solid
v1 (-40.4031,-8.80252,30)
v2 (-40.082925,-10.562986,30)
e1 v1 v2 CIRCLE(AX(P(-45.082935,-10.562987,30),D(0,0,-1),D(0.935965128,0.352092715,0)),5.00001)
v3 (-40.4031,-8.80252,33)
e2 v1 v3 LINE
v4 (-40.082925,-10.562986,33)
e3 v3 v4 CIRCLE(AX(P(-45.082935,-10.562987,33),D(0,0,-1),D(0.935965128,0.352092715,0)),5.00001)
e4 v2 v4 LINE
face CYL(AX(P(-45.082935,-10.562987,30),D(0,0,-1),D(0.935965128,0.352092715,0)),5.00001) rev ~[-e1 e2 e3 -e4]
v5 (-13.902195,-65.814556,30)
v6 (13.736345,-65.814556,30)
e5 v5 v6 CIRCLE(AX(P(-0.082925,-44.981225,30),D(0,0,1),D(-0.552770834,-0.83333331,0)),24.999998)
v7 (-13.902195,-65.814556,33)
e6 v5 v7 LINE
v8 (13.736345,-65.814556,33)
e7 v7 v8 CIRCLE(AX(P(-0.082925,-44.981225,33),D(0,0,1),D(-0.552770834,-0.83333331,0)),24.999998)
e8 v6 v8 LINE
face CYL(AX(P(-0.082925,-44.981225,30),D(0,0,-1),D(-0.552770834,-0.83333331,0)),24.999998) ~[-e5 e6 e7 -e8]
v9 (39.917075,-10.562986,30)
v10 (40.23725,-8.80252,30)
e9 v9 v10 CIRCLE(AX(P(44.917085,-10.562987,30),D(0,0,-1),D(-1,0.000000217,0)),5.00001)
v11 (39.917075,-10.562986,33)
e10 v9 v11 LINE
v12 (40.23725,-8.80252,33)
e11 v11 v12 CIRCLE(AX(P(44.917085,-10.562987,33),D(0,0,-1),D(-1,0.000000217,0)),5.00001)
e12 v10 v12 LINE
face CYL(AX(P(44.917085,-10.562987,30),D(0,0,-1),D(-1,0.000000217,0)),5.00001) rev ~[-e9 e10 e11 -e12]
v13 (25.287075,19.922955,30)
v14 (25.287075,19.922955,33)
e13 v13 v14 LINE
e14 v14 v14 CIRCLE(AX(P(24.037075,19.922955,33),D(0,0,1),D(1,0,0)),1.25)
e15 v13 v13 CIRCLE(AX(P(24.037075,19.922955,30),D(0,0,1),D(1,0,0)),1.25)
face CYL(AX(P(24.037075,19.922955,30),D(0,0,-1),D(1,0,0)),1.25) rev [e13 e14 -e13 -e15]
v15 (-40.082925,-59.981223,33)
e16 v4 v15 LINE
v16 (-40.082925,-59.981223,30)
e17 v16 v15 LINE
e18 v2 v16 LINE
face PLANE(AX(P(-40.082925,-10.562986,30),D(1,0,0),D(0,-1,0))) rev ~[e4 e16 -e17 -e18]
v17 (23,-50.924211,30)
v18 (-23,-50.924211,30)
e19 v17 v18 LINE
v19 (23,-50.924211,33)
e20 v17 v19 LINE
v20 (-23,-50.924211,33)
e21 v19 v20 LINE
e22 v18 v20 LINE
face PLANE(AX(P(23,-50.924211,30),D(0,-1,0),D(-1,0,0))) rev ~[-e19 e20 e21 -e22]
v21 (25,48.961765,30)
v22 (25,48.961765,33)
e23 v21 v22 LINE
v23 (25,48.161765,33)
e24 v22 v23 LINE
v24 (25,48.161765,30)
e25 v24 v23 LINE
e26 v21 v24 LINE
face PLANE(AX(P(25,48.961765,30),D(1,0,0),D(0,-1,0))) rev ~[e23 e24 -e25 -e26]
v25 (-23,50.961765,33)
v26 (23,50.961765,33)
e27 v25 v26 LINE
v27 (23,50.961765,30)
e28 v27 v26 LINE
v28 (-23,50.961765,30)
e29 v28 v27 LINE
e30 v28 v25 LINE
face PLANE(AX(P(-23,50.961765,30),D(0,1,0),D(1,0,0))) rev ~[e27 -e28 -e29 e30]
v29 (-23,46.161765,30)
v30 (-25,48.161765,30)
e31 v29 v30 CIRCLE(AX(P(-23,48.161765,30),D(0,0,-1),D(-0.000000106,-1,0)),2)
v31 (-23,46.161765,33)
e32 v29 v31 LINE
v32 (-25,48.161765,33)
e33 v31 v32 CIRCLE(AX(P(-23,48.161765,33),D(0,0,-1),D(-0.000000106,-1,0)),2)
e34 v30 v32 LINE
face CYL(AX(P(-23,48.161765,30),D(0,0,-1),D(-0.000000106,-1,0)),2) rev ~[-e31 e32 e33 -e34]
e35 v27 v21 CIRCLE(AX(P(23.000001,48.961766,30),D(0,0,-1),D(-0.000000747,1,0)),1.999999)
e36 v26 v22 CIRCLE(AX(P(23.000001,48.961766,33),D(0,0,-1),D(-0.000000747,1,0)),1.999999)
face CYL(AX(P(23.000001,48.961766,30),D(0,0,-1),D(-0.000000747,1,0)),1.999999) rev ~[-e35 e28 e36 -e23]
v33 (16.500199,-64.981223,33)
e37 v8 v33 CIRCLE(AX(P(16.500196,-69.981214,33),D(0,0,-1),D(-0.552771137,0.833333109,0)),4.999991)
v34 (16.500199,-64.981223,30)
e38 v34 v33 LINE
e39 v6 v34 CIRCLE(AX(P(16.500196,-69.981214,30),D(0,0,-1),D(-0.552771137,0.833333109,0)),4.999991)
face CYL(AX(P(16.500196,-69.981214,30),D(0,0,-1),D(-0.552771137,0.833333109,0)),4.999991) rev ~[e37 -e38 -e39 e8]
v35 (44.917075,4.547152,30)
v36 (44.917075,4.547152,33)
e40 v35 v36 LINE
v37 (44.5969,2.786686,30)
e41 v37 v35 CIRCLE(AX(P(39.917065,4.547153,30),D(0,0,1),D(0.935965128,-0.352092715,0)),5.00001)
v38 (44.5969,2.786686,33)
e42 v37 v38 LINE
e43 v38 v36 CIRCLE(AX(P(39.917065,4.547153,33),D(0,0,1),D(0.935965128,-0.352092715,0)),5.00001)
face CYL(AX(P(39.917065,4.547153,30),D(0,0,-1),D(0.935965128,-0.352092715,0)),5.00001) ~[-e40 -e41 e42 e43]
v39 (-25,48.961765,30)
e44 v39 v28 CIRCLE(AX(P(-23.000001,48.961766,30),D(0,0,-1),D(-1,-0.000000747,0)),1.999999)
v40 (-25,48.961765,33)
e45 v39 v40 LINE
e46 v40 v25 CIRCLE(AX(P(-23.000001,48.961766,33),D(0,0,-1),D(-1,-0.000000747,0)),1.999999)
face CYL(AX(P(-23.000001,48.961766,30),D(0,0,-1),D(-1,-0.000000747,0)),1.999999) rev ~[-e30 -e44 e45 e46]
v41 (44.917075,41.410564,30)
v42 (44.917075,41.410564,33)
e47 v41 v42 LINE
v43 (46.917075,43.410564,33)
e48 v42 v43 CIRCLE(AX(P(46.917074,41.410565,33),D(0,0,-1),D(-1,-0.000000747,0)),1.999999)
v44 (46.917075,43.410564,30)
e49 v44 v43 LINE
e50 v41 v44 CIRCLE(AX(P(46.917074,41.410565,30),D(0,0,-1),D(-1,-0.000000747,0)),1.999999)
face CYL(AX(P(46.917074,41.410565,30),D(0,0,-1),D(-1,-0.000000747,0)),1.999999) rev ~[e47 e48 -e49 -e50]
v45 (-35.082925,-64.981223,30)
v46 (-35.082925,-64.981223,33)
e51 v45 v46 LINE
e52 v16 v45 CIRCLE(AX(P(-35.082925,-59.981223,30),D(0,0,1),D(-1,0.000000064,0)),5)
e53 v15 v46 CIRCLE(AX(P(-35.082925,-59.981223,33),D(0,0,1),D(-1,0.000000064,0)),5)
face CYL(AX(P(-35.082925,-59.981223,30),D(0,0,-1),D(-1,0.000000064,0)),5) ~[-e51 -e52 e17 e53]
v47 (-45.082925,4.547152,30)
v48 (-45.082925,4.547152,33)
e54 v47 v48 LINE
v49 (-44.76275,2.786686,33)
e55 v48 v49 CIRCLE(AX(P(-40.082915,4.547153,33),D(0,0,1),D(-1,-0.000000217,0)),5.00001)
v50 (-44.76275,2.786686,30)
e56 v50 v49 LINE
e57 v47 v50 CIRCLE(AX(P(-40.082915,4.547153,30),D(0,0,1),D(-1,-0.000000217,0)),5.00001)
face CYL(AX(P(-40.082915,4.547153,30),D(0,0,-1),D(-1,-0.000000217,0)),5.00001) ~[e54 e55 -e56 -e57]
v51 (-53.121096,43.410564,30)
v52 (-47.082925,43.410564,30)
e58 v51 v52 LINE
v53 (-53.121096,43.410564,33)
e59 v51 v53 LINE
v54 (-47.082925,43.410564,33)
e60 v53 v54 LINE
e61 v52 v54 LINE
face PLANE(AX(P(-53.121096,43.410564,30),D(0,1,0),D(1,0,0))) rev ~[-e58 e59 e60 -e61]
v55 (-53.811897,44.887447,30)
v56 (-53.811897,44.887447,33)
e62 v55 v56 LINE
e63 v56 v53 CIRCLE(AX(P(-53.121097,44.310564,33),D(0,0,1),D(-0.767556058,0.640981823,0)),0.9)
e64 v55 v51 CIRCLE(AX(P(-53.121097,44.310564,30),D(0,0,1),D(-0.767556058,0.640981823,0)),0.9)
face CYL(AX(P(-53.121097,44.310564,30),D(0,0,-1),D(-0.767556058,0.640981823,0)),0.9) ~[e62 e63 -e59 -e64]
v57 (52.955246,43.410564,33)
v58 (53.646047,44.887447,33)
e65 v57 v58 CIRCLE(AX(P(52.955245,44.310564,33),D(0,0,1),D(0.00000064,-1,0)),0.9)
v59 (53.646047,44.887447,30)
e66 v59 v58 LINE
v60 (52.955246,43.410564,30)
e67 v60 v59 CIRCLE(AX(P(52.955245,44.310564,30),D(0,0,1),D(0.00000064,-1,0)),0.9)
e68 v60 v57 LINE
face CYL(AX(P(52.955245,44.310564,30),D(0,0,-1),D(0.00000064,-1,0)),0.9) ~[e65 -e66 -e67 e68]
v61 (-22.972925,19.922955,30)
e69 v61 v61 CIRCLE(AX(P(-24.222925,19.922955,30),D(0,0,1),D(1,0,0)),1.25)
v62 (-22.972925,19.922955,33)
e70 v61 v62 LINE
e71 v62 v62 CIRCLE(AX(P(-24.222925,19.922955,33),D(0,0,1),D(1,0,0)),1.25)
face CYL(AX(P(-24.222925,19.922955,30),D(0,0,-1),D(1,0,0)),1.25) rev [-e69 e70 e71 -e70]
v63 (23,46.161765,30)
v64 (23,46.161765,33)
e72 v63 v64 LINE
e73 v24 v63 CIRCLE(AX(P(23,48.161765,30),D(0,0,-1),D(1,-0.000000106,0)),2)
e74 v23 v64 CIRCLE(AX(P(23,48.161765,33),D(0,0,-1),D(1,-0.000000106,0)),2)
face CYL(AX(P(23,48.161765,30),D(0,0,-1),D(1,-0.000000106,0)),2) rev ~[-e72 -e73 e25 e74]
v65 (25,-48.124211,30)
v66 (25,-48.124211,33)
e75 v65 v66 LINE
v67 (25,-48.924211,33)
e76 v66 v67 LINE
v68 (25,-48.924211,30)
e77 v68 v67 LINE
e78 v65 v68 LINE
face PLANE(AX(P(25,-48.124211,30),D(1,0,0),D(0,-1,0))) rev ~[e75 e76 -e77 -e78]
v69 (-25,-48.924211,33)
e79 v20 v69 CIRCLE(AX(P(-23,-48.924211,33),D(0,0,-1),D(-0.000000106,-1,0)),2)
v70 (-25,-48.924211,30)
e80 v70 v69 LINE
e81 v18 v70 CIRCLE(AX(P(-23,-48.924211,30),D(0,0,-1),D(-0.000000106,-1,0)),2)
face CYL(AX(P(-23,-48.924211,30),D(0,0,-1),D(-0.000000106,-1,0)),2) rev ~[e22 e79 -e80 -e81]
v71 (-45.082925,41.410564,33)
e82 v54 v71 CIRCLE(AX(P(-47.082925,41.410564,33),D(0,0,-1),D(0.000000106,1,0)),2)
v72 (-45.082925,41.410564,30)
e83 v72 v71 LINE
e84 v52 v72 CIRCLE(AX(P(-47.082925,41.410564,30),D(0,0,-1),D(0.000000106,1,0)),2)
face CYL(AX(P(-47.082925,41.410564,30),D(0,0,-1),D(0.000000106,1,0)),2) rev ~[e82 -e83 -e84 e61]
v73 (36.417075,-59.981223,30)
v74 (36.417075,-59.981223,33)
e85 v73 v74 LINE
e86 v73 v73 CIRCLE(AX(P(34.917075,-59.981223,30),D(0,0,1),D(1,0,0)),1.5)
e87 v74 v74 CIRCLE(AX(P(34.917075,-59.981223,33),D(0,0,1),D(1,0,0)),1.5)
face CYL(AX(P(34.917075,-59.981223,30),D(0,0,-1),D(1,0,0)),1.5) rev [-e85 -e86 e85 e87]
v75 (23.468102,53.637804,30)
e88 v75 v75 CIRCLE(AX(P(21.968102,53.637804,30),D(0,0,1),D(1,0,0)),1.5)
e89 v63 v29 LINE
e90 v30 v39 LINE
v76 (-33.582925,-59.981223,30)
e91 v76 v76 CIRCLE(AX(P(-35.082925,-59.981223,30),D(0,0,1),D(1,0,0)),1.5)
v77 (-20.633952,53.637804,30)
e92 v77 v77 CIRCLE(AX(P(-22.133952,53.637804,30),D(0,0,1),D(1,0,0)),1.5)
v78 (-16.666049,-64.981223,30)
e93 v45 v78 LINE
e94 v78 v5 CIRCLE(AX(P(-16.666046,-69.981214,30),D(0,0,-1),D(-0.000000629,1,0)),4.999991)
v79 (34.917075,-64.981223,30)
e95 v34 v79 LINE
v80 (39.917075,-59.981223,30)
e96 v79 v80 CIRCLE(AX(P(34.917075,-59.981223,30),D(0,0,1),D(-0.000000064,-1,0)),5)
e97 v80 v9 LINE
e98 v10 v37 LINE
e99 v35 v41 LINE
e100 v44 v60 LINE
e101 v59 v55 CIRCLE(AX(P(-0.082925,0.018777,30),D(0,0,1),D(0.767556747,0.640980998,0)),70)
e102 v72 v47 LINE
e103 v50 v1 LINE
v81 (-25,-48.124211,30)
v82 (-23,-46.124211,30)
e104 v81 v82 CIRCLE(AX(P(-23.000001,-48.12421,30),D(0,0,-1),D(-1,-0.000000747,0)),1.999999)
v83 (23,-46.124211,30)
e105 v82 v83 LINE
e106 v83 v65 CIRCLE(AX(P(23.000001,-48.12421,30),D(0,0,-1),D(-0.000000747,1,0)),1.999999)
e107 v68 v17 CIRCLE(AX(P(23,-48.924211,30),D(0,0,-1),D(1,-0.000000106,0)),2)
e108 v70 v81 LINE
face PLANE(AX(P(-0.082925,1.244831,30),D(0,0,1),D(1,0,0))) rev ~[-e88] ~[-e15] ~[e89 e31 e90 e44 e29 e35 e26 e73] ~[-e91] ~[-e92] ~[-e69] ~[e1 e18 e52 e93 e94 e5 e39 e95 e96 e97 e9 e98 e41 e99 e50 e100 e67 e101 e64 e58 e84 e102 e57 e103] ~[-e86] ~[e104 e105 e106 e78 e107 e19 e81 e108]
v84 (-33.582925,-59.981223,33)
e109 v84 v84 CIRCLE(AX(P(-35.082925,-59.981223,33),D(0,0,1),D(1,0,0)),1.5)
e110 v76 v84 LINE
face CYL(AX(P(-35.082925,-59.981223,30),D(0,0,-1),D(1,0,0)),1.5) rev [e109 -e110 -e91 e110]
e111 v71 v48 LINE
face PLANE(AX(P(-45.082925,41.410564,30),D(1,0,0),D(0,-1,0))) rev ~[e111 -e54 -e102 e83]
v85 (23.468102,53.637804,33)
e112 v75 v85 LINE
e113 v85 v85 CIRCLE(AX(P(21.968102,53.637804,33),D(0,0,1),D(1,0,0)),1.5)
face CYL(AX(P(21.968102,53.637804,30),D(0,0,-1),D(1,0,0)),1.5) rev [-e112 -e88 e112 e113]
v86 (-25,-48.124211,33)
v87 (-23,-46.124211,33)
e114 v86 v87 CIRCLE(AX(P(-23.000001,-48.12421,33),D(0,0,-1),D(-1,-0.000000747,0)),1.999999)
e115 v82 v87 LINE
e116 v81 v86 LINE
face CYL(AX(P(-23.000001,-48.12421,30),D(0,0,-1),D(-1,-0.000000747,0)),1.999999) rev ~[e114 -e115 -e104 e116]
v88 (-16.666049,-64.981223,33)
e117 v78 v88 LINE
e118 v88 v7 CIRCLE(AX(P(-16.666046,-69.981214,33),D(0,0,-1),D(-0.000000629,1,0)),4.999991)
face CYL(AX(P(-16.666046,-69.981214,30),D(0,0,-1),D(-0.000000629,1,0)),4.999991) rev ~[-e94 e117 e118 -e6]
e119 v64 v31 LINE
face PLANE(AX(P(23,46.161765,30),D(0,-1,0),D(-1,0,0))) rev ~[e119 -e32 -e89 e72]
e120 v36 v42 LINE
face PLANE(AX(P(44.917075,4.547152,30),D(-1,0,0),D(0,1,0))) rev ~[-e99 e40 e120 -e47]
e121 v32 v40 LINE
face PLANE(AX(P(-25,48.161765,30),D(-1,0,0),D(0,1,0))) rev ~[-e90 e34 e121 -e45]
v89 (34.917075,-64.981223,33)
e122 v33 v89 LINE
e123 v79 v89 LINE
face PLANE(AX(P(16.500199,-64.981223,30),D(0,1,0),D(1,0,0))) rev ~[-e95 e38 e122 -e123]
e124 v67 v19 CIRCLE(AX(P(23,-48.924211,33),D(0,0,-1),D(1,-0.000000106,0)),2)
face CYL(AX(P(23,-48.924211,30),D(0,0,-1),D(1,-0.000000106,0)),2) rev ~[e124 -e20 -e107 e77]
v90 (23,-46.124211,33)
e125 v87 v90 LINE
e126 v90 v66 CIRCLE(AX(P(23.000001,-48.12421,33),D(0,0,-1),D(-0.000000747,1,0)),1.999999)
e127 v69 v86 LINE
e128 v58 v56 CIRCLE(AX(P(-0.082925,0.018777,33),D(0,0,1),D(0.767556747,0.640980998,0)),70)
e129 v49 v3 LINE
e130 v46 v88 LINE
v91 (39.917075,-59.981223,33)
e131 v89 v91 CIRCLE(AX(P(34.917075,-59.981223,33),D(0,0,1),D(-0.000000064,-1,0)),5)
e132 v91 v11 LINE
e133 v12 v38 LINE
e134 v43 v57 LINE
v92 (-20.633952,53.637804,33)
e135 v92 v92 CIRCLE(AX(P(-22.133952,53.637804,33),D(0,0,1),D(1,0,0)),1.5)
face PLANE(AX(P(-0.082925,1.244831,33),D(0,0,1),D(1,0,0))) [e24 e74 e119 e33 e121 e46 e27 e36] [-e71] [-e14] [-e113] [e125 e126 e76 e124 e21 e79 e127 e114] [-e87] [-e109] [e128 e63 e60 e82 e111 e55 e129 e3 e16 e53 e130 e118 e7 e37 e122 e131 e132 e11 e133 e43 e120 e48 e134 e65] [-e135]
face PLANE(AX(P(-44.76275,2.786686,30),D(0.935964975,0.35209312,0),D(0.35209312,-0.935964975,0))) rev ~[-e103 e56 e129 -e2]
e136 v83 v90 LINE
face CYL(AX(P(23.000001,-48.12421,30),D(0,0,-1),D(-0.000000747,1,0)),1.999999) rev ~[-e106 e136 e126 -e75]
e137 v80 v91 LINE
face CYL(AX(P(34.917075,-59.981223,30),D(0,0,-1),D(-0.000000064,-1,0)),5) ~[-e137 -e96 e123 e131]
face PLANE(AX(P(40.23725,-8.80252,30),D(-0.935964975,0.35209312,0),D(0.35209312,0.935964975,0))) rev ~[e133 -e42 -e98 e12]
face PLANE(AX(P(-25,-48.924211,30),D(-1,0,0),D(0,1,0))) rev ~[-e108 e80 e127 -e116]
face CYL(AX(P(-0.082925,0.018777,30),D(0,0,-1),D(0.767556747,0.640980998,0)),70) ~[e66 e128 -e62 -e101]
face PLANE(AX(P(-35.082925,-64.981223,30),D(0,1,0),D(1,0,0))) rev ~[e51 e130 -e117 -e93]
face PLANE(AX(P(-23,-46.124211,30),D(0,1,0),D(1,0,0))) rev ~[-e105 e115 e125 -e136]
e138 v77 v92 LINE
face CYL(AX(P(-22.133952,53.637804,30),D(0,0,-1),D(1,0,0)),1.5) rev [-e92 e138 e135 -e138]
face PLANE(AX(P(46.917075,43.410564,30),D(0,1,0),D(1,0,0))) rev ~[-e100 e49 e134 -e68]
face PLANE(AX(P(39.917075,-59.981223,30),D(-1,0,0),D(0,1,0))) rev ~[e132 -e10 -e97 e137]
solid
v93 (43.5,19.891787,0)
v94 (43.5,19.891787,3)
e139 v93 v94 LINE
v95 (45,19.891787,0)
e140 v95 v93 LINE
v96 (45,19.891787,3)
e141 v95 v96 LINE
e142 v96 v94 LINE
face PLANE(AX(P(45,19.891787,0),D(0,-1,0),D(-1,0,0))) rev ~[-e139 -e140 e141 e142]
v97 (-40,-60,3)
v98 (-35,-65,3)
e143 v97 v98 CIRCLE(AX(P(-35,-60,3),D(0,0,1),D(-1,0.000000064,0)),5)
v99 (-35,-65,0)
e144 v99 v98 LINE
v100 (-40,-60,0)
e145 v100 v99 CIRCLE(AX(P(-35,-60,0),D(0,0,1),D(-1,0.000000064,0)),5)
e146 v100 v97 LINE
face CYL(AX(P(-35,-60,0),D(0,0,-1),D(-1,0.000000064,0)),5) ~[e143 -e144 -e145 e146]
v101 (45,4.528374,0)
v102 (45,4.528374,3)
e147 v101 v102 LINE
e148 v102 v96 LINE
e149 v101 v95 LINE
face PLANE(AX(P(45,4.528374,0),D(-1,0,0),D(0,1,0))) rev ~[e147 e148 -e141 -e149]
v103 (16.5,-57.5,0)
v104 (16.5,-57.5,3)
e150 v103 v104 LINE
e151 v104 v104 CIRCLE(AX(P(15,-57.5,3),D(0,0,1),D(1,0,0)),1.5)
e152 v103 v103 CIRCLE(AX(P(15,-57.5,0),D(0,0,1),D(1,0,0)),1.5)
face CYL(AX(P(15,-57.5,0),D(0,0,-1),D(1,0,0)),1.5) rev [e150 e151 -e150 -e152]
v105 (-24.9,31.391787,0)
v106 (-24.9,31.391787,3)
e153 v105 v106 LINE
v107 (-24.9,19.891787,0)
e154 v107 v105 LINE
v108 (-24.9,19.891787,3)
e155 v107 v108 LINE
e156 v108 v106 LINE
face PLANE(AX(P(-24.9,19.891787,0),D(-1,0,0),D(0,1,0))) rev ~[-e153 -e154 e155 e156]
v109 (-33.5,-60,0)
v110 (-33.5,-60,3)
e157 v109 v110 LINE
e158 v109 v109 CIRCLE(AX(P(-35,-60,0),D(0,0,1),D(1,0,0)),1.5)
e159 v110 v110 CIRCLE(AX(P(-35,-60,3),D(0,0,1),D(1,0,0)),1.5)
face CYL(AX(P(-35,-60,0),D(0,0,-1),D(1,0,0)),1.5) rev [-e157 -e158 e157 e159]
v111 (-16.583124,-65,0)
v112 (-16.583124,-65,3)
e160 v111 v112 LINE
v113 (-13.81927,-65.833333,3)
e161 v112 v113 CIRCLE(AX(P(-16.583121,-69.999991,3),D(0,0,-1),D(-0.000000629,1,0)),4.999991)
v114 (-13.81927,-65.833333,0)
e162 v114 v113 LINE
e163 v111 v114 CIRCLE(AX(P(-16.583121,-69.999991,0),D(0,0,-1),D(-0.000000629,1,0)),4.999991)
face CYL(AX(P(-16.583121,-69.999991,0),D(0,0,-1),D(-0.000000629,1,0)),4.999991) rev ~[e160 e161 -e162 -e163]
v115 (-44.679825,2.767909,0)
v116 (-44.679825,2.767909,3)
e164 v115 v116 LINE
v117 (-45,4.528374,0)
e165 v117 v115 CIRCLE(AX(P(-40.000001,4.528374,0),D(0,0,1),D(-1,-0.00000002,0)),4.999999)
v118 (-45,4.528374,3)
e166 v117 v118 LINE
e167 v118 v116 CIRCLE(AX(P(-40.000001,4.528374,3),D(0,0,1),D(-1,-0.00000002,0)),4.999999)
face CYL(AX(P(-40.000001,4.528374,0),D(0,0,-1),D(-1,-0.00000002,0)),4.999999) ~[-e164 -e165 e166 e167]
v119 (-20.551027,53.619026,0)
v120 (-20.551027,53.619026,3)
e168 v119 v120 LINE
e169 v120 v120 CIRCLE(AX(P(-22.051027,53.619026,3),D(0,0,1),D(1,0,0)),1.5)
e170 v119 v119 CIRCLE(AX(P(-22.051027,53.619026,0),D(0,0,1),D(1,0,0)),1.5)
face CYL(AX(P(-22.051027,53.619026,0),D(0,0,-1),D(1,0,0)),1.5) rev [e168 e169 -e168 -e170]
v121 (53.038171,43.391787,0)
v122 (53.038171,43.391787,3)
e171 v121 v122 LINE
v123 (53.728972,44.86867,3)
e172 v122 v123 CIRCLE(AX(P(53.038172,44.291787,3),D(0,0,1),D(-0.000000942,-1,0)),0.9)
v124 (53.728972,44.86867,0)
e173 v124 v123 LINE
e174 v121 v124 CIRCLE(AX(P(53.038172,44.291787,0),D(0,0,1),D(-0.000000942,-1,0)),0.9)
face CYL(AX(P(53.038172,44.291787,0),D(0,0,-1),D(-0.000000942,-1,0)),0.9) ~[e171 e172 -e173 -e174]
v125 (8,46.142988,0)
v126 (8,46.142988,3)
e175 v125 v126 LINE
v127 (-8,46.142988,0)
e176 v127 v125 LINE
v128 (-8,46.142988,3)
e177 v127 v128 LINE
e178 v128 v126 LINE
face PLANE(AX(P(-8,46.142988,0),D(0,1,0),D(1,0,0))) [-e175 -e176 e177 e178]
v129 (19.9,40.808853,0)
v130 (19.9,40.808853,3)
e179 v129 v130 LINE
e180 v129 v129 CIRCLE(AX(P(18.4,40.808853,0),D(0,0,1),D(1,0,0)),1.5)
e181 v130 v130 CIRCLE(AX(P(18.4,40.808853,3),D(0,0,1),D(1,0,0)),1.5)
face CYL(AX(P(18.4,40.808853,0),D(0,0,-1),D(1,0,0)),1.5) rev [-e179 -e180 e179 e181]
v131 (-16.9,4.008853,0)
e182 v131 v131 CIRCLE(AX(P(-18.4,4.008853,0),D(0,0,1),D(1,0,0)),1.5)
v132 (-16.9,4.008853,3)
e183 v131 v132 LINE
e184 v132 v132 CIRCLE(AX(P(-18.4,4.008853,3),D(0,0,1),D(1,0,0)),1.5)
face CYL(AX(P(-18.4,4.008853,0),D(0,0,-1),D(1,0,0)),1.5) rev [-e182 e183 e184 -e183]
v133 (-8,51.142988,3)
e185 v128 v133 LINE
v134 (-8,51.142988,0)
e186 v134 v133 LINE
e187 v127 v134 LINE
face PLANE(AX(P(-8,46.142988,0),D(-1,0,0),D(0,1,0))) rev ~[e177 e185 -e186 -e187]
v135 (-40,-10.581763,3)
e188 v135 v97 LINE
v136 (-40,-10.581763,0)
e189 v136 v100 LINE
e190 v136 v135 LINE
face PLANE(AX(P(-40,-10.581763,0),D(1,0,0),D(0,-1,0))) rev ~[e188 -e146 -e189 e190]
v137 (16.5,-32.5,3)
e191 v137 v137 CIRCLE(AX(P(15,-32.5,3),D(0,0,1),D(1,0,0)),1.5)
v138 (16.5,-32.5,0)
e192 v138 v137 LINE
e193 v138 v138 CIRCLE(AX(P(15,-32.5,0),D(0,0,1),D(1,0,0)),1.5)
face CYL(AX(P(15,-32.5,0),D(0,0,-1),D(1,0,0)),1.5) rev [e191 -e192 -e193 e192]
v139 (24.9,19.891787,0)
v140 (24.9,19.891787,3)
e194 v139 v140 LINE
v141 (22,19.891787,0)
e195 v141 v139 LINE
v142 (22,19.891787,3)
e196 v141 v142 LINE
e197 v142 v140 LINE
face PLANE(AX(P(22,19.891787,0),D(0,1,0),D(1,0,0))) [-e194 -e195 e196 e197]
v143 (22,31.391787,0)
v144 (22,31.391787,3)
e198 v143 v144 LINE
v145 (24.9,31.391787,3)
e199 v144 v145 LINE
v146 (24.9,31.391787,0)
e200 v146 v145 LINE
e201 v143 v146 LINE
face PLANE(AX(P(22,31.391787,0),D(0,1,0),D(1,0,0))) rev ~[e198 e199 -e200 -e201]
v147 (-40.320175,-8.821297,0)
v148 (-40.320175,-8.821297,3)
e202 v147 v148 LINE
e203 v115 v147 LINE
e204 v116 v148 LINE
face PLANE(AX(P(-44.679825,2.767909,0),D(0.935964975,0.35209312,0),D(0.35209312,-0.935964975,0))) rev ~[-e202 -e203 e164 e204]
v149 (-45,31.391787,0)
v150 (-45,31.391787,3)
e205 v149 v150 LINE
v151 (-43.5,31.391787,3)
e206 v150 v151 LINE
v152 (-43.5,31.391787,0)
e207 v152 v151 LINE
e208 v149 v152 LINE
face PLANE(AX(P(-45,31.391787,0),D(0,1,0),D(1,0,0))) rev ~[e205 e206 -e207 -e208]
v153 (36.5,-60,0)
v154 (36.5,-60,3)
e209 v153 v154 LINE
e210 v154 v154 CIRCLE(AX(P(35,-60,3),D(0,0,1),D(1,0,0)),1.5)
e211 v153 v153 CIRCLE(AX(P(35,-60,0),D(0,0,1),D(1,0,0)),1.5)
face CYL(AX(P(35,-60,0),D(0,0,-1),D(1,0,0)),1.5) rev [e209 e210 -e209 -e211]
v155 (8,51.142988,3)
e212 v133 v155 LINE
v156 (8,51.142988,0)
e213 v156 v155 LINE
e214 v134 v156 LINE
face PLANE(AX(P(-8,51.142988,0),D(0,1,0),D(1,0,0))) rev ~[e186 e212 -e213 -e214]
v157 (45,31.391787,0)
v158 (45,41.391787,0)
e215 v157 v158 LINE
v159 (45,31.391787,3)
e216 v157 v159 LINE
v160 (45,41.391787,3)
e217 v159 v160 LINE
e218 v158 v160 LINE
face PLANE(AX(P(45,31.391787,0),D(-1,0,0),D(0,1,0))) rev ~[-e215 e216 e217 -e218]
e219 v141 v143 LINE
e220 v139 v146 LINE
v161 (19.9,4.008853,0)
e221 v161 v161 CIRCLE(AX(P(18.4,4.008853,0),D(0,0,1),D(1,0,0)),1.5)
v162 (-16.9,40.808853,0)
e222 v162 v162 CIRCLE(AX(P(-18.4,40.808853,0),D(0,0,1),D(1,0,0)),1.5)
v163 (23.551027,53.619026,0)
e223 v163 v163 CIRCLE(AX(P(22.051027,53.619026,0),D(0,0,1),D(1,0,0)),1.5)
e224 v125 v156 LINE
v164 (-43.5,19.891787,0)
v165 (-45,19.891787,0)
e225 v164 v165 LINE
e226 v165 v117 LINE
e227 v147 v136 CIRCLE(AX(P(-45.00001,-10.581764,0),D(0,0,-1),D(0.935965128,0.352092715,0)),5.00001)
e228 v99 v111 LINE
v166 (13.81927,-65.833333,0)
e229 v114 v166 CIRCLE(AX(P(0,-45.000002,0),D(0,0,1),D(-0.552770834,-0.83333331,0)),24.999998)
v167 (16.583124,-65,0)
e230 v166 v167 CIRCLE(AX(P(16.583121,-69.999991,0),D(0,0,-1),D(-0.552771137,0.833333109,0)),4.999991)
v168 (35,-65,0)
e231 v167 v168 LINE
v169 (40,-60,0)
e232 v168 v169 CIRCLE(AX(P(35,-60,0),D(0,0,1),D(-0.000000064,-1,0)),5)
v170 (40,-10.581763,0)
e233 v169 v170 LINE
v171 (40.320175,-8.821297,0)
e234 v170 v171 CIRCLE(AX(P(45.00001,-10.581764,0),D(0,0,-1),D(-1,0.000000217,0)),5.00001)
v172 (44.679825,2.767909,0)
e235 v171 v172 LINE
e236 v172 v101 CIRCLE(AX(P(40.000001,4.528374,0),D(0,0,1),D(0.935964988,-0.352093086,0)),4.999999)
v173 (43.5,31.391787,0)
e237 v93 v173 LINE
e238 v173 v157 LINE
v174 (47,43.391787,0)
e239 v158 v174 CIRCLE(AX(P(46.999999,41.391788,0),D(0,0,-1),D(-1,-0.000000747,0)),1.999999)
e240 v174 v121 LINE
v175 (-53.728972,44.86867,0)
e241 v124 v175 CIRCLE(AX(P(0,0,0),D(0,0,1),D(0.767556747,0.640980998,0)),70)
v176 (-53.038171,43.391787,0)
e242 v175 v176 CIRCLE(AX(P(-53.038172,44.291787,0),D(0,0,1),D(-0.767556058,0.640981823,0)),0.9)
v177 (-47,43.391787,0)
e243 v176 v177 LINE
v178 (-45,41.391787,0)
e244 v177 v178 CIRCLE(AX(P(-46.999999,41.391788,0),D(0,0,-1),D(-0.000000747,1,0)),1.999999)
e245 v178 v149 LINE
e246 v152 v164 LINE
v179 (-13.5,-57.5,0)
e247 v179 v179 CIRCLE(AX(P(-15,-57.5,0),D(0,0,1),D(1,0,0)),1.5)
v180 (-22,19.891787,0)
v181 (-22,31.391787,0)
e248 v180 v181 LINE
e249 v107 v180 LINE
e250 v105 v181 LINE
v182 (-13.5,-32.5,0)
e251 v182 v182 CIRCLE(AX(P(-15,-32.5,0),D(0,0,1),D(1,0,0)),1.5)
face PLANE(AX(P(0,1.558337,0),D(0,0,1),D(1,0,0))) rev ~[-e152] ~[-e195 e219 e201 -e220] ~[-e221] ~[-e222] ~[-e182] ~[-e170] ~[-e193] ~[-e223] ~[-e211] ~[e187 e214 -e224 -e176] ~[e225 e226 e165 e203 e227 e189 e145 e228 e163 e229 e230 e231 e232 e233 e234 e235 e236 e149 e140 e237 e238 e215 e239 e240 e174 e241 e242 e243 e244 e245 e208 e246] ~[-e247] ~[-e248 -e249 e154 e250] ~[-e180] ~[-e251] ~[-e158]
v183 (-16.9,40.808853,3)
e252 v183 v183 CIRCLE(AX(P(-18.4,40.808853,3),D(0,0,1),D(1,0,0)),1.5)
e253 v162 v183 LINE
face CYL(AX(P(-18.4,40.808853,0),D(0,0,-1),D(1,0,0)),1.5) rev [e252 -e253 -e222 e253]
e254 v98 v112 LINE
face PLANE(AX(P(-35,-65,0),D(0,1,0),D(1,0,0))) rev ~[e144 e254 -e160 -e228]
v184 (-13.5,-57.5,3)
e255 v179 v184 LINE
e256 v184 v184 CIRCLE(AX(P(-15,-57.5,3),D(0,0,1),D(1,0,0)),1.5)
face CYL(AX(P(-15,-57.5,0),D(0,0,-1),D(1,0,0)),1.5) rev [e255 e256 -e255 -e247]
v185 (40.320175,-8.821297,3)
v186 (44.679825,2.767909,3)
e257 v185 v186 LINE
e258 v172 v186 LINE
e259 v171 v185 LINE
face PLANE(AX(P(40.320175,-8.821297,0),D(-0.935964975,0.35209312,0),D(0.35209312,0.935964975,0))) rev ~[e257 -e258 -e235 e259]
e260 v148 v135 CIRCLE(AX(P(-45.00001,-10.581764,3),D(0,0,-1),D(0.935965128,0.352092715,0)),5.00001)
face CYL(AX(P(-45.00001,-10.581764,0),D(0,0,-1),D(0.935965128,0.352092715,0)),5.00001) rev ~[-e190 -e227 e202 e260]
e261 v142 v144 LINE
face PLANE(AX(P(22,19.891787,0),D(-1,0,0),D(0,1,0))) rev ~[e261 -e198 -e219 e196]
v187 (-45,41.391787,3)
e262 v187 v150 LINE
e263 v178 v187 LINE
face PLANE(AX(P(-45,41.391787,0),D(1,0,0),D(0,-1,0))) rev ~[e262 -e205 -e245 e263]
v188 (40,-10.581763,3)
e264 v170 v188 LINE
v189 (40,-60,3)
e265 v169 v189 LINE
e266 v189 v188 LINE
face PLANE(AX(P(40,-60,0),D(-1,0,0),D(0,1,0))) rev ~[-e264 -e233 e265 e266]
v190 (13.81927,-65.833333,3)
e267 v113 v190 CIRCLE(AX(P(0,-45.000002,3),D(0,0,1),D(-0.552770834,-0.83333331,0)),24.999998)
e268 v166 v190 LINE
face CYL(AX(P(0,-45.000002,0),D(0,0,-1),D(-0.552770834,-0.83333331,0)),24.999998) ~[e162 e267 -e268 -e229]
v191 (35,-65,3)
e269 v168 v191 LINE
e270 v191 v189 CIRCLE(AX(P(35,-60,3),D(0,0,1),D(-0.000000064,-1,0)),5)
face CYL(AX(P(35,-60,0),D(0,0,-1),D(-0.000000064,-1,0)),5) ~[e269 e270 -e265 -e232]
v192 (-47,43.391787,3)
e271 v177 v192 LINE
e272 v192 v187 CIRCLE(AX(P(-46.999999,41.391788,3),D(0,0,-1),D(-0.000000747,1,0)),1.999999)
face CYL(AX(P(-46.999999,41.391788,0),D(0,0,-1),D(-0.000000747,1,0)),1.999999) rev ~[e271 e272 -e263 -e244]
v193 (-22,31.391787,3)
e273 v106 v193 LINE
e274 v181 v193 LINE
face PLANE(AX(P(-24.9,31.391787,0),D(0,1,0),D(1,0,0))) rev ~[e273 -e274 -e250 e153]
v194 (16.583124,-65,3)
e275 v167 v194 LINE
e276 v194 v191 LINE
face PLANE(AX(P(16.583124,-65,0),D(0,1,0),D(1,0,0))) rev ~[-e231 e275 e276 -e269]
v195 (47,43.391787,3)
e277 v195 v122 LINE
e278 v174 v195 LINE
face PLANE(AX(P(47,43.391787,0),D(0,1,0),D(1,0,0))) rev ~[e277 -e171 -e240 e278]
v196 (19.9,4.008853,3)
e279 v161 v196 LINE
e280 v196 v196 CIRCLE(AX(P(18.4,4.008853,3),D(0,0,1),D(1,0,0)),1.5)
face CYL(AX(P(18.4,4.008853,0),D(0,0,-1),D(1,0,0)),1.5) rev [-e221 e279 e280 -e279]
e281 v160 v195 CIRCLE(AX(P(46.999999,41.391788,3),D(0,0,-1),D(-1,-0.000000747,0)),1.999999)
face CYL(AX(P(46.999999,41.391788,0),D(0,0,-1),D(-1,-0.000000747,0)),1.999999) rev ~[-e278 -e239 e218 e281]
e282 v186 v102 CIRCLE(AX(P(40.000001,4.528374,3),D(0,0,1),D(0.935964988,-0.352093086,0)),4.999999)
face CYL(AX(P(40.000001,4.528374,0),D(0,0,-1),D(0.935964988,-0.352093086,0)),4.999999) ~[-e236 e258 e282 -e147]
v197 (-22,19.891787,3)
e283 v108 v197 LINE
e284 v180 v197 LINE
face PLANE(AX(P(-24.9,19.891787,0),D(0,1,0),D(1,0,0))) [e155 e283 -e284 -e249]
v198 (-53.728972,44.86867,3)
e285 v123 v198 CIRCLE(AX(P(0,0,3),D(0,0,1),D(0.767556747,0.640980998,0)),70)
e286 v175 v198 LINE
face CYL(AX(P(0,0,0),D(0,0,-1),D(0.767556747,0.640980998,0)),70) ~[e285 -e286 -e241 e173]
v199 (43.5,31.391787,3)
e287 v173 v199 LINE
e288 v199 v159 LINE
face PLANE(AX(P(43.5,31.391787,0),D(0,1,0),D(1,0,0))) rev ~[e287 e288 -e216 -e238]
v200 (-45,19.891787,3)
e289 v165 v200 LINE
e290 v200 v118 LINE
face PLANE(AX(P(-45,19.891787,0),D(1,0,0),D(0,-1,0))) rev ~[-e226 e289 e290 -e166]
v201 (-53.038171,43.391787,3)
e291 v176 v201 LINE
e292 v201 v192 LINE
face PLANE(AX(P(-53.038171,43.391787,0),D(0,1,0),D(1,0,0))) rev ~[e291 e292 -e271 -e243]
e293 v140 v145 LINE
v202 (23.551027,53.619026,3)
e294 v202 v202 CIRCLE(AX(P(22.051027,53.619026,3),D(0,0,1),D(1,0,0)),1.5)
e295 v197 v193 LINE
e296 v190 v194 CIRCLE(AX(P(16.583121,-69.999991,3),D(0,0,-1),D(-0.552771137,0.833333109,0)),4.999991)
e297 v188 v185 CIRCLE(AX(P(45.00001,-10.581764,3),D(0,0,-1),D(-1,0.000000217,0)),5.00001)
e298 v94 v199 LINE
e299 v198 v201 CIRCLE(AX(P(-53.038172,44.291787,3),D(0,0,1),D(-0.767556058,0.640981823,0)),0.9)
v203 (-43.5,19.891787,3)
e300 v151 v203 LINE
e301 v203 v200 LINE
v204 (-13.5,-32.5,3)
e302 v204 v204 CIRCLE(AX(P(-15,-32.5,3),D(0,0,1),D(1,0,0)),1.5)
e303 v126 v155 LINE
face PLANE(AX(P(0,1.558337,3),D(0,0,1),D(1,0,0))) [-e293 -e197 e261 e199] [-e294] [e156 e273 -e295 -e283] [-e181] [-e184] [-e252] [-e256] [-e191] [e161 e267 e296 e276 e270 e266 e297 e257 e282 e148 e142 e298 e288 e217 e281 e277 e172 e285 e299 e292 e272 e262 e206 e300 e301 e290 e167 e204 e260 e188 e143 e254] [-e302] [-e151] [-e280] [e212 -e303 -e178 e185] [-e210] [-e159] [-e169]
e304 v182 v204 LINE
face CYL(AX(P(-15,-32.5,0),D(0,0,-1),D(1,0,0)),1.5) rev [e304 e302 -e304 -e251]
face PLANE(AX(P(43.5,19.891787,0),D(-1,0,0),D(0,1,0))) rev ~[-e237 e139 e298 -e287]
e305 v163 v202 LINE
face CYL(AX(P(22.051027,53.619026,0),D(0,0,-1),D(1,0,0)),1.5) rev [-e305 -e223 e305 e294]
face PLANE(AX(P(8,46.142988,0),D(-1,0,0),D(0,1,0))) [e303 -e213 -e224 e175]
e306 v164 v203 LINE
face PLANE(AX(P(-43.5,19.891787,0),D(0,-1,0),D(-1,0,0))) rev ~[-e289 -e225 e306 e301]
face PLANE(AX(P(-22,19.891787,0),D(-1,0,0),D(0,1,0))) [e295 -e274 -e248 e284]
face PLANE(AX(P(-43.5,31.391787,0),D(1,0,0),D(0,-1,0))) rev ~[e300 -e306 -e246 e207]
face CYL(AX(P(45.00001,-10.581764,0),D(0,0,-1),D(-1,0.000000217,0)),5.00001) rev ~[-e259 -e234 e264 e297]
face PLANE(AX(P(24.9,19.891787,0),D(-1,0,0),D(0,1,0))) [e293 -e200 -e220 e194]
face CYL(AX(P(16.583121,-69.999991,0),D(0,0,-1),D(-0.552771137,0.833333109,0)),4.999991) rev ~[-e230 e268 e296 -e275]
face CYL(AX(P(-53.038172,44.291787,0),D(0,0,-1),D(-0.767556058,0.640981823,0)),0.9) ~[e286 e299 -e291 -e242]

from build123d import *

# Parameters (mm, degrees)
F0_R     = 1.5
F0_W     = 2.9
F0_H     = 11.5
F0_W_2   = 16
F0_H_2   = 5
F1_DEPTH = 3
F5_R     = 1.5
F5_R_2   = 1.25
F6_DEPTH = 3


with BuildPart() as f1:
    # F0 (on Top) → F1 (new body)
    with BuildSketch(Plane.XY):
        with BuildLine():
            ThreePointArc((53.038171, 43.391787), (53.8534, 43.91047), (53.728972, 44.86867))
            ThreePointArc((53.728972, 44.86867), (0, 70), (-53.728972, 44.86867))
            ThreePointArc((-53.728972, 44.86867), (-53.8534, 43.91047), (-53.038171, 43.391787))
            Line((-53.038171, 43.391787), (-47, 43.391787))
            ThreePointArc((-47, 43.391787), (-45.585786, 42.806001), (-45, 41.391787))
            Line((-45, 41.391787), (-45, 31.391787))
            Line((-45, 31.391787), (-43.5, 31.391787))
            Line((-43.5, 31.391787), (-43.5, 19.891787))
            Line((-43.5, 19.891787), (-45, 19.891787))
            Line((-45, 19.891787), (-45, 4.528374))
            ThreePointArc((-45, 4.528374), (-44.919305, 3.633702), (-44.679825, 2.767909))
            Line((-44.679825, 2.767909), (-40.320175, -8.821297))
            ThreePointArc((-40.320175, -8.821297), (-40.080695, -9.687091), (-40, -10.581763))
            Line((-40, -10.581763), (-40, -60))
            ThreePointArc((-40, -60), (-38.535534, -63.535534), (-35, -65))
            Line((-35, -65), (-16.583124, -65))
            ThreePointArc((-16.583124, -65), (-15.139748, -65.212864), (-13.81927, -65.833333))
            ThreePointArc((-13.81927, -65.833333), (0, -70), (13.81927, -65.833333))
            ThreePointArc((13.81927, -65.833333), (15.139748, -65.212864), (16.583124, -65))
            Line((16.583124, -65), (35, -65))
            ThreePointArc((35, -65), (38.535534, -63.535534), (40, -60))
            Line((40, -60), (40, -10.581763))
            ThreePointArc((40, -10.581763), (40.080695, -9.687091), (40.320175, -8.821297))
            Line((40.320175, -8.821297), (44.679825, 2.767909))
            ThreePointArc((44.679825, 2.767909), (44.919305, 3.633702), (45, 4.528374))
            Line((45, 4.528374), (45, 19.891787))
            Line((45, 19.891787), (43.5, 19.891787))
            Line((43.5, 19.891787), (43.5, 31.391787))
            Line((43.5, 31.391787), (45, 31.391787))
            Line((45, 31.391787), (45, 41.391787))
            ThreePointArc((45, 41.391787), (45.585786, 42.806001), (47, 43.391787))
            Line((47, 43.391787), (53.038171, 43.391787))
        make_face()
        with Locations((-35, -60)):
            Circle(F0_R, mode=Mode.SUBTRACT)
        with Locations((-15, -57.5)):
            Circle(F0_R, mode=Mode.SUBTRACT)
        with Locations((-15, -32.5)):
            Circle(F0_R, mode=Mode.SUBTRACT)
        with Locations((15, -57.5)):
            Circle(F0_R, mode=Mode.SUBTRACT)
        with Locations((35, -60)):
            Circle(F0_R, mode=Mode.SUBTRACT)
        with Locations((15, -32.5)):
            Circle(F0_R, mode=Mode.SUBTRACT)
        with Locations((-18.4, 4.008853)):
            Circle(F0_R, mode=Mode.SUBTRACT)
        with Locations((-23.45, 25.641787)):
            Rectangle(F0_W, F0_H, mode=Mode.SUBTRACT)
        with Locations((-18.4, 40.808853)):
            Circle(F0_R, mode=Mode.SUBTRACT)
        with Locations((-22.051027, 53.619026)):
            Circle(F0_R, mode=Mode.SUBTRACT)
        with Locations((18.4, 4.008853)):
            Circle(F0_R, mode=Mode.SUBTRACT)
        with Locations((23.45, 25.641787)):
            Rectangle(F0_W, F0_H, mode=Mode.SUBTRACT)
        with Locations((0, 48.642988)):
            Rectangle(F0_W_2, F0_H_2, mode=Mode.SUBTRACT)
        with Locations((18.4, 40.808853)):
            Circle(F0_R, mode=Mode.SUBTRACT)
        with Locations((22.051027, 53.619026)):
            Circle(F0_R, mode=Mode.SUBTRACT)
    extrude(amount=F1_DEPTH)


with BuildPart() as f2_1:
    # F2: copy of F1
    add(f1.part.moved(Location((0, 0, 30))))


with BuildPart() as f6:
    # F5 (on offset) → F6 (new body)
    with BuildSketch(Plane.XY.offset(30)):
        with BuildLine():
            ThreePointArc((52.955246, 43.410564), (53.770474, 43.929247), (53.646047, 44.887447))
            ThreePointArc((53.646047, 44.887447), (-0.082925, 70.018777), (-53.811897, 44.887447))
            ThreePointArc((-53.811897, 44.887447), (-53.936325, 43.929247), (-53.121096, 43.410564))
            Line((-53.121096, 43.410564), (-47.082925, 43.410564))
            ThreePointArc((-47.082925, 43.410564), (-45.668712, 42.824778), (-45.082925, 41.410564))
            Line((-45.082925, 41.410564), (-45.082925, 4.547152))
            ThreePointArc((-45.082925, 4.547152), (-45.00223, 3.65248), (-44.76275, 2.786686))
            Line((-44.76275, 2.786686), (-40.4031, -8.80252))
            ThreePointArc((-40.4031, -8.80252), (-40.16362, -9.668314), (-40.082925, -10.562986))
            Line((-40.082925, -10.562986), (-40.082925, -59.981223))
            ThreePointArc((-40.082925, -59.981223), (-38.618459, -63.516757), (-35.082925, -64.981223))
            Line((-35.082925, -64.981223), (-16.666049, -64.981223))
            ThreePointArc((-16.666049, -64.981223), (-15.222673, -65.194087), (-13.902195, -65.814556))
            ThreePointArc((-13.902195, -65.814556), (-0.082925, -69.981223), (13.736345, -65.814556))
            ThreePointArc((13.736345, -65.814556), (15.056823, -65.194087), (16.500199, -64.981223))
            Line((16.500199, -64.981223), (34.917075, -64.981223))
            ThreePointArc((34.917075, -64.981223), (38.452609, -63.516757), (39.917075, -59.981223))
            Line((39.917075, -59.981223), (39.917075, -10.562986))
            ThreePointArc((39.917075, -10.562986), (39.99777, -9.668314), (40.23725, -8.80252))
            Line((40.23725, -8.80252), (44.5969, 2.786686))
            ThreePointArc((44.5969, 2.786686), (44.83638, 3.65248), (44.917075, 4.547152))
            Line((44.917075, 4.547152), (44.917075, 19.910564))
            Line((44.917075, 19.910564), (44.917075, 41.410564))
            ThreePointArc((44.917075, 41.410564), (45.502861, 42.824778), (46.917075, 43.410564))
            Line((46.917075, 43.410564), (52.955246, 43.410564))
        make_face()
        with Locations((-35.082925, -59.981223)):
            Circle(F5_R, mode=Mode.SUBTRACT)
        with BuildLine():
            ThreePointArc((-25, -48.124211), (-24.414214, -46.709997), (-23, -46.124211))
            Line((-23, -46.124211), (23, -46.124211))
            ThreePointArc((23, -46.124211), (24.414214, -46.709997), (25, -48.124211))
            Line((25, -48.124211), (25, -48.924211))
            ThreePointArc((25, -48.924211), (24.414214, -50.338424), (23, -50.924211))
            Line((23, -50.924211), (-23, -50.924211))
            ThreePointArc((-23, -50.924211), (-24.414214, -50.338424), (-25, -48.924211))
            Line((-25, -48.924211), (-25, -48.124211))
        make_face(mode=Mode.SUBTRACT)
        with Locations((34.917075, -59.981223)):
            Circle(F5_R, mode=Mode.SUBTRACT)
        with Locations((-24.222925, 19.922955)):
            Circle(F5_R_2, mode=Mode.SUBTRACT)
        with Locations((-22.133952, 53.637804)):
            Circle(F5_R, mode=Mode.SUBTRACT)
        with Locations((24.037075, 19.922955)):
            Circle(F5_R_2, mode=Mode.SUBTRACT)
        with BuildLine():
            ThreePointArc((-25, 48.961765), (-24.414214, 50.375979), (-23, 50.961765))
            Line((-23, 50.961765), (23, 50.961765))
            ThreePointArc((23, 50.961765), (24.414214, 50.375979), (25, 48.961765))
            Line((25, 48.961765), (25, 48.161765))
            ThreePointArc((25, 48.161765), (24.414214, 46.747552), (23, 46.161765))
            Line((23, 46.161765), (-23, 46.161765))
            ThreePointArc((-23, 46.161765), (-24.414214, 46.747552), (-25, 48.161765))
            Line((-25, 48.161765), (-25, 48.961765))
        make_face(mode=Mode.SUBTRACT)
        with Locations((21.968102, 53.637804)):
            Circle(F5_R, mode=Mode.SUBTRACT)
    extrude(amount=F6_DEPTH)


solid = Compound([f1.part, f6.part])
